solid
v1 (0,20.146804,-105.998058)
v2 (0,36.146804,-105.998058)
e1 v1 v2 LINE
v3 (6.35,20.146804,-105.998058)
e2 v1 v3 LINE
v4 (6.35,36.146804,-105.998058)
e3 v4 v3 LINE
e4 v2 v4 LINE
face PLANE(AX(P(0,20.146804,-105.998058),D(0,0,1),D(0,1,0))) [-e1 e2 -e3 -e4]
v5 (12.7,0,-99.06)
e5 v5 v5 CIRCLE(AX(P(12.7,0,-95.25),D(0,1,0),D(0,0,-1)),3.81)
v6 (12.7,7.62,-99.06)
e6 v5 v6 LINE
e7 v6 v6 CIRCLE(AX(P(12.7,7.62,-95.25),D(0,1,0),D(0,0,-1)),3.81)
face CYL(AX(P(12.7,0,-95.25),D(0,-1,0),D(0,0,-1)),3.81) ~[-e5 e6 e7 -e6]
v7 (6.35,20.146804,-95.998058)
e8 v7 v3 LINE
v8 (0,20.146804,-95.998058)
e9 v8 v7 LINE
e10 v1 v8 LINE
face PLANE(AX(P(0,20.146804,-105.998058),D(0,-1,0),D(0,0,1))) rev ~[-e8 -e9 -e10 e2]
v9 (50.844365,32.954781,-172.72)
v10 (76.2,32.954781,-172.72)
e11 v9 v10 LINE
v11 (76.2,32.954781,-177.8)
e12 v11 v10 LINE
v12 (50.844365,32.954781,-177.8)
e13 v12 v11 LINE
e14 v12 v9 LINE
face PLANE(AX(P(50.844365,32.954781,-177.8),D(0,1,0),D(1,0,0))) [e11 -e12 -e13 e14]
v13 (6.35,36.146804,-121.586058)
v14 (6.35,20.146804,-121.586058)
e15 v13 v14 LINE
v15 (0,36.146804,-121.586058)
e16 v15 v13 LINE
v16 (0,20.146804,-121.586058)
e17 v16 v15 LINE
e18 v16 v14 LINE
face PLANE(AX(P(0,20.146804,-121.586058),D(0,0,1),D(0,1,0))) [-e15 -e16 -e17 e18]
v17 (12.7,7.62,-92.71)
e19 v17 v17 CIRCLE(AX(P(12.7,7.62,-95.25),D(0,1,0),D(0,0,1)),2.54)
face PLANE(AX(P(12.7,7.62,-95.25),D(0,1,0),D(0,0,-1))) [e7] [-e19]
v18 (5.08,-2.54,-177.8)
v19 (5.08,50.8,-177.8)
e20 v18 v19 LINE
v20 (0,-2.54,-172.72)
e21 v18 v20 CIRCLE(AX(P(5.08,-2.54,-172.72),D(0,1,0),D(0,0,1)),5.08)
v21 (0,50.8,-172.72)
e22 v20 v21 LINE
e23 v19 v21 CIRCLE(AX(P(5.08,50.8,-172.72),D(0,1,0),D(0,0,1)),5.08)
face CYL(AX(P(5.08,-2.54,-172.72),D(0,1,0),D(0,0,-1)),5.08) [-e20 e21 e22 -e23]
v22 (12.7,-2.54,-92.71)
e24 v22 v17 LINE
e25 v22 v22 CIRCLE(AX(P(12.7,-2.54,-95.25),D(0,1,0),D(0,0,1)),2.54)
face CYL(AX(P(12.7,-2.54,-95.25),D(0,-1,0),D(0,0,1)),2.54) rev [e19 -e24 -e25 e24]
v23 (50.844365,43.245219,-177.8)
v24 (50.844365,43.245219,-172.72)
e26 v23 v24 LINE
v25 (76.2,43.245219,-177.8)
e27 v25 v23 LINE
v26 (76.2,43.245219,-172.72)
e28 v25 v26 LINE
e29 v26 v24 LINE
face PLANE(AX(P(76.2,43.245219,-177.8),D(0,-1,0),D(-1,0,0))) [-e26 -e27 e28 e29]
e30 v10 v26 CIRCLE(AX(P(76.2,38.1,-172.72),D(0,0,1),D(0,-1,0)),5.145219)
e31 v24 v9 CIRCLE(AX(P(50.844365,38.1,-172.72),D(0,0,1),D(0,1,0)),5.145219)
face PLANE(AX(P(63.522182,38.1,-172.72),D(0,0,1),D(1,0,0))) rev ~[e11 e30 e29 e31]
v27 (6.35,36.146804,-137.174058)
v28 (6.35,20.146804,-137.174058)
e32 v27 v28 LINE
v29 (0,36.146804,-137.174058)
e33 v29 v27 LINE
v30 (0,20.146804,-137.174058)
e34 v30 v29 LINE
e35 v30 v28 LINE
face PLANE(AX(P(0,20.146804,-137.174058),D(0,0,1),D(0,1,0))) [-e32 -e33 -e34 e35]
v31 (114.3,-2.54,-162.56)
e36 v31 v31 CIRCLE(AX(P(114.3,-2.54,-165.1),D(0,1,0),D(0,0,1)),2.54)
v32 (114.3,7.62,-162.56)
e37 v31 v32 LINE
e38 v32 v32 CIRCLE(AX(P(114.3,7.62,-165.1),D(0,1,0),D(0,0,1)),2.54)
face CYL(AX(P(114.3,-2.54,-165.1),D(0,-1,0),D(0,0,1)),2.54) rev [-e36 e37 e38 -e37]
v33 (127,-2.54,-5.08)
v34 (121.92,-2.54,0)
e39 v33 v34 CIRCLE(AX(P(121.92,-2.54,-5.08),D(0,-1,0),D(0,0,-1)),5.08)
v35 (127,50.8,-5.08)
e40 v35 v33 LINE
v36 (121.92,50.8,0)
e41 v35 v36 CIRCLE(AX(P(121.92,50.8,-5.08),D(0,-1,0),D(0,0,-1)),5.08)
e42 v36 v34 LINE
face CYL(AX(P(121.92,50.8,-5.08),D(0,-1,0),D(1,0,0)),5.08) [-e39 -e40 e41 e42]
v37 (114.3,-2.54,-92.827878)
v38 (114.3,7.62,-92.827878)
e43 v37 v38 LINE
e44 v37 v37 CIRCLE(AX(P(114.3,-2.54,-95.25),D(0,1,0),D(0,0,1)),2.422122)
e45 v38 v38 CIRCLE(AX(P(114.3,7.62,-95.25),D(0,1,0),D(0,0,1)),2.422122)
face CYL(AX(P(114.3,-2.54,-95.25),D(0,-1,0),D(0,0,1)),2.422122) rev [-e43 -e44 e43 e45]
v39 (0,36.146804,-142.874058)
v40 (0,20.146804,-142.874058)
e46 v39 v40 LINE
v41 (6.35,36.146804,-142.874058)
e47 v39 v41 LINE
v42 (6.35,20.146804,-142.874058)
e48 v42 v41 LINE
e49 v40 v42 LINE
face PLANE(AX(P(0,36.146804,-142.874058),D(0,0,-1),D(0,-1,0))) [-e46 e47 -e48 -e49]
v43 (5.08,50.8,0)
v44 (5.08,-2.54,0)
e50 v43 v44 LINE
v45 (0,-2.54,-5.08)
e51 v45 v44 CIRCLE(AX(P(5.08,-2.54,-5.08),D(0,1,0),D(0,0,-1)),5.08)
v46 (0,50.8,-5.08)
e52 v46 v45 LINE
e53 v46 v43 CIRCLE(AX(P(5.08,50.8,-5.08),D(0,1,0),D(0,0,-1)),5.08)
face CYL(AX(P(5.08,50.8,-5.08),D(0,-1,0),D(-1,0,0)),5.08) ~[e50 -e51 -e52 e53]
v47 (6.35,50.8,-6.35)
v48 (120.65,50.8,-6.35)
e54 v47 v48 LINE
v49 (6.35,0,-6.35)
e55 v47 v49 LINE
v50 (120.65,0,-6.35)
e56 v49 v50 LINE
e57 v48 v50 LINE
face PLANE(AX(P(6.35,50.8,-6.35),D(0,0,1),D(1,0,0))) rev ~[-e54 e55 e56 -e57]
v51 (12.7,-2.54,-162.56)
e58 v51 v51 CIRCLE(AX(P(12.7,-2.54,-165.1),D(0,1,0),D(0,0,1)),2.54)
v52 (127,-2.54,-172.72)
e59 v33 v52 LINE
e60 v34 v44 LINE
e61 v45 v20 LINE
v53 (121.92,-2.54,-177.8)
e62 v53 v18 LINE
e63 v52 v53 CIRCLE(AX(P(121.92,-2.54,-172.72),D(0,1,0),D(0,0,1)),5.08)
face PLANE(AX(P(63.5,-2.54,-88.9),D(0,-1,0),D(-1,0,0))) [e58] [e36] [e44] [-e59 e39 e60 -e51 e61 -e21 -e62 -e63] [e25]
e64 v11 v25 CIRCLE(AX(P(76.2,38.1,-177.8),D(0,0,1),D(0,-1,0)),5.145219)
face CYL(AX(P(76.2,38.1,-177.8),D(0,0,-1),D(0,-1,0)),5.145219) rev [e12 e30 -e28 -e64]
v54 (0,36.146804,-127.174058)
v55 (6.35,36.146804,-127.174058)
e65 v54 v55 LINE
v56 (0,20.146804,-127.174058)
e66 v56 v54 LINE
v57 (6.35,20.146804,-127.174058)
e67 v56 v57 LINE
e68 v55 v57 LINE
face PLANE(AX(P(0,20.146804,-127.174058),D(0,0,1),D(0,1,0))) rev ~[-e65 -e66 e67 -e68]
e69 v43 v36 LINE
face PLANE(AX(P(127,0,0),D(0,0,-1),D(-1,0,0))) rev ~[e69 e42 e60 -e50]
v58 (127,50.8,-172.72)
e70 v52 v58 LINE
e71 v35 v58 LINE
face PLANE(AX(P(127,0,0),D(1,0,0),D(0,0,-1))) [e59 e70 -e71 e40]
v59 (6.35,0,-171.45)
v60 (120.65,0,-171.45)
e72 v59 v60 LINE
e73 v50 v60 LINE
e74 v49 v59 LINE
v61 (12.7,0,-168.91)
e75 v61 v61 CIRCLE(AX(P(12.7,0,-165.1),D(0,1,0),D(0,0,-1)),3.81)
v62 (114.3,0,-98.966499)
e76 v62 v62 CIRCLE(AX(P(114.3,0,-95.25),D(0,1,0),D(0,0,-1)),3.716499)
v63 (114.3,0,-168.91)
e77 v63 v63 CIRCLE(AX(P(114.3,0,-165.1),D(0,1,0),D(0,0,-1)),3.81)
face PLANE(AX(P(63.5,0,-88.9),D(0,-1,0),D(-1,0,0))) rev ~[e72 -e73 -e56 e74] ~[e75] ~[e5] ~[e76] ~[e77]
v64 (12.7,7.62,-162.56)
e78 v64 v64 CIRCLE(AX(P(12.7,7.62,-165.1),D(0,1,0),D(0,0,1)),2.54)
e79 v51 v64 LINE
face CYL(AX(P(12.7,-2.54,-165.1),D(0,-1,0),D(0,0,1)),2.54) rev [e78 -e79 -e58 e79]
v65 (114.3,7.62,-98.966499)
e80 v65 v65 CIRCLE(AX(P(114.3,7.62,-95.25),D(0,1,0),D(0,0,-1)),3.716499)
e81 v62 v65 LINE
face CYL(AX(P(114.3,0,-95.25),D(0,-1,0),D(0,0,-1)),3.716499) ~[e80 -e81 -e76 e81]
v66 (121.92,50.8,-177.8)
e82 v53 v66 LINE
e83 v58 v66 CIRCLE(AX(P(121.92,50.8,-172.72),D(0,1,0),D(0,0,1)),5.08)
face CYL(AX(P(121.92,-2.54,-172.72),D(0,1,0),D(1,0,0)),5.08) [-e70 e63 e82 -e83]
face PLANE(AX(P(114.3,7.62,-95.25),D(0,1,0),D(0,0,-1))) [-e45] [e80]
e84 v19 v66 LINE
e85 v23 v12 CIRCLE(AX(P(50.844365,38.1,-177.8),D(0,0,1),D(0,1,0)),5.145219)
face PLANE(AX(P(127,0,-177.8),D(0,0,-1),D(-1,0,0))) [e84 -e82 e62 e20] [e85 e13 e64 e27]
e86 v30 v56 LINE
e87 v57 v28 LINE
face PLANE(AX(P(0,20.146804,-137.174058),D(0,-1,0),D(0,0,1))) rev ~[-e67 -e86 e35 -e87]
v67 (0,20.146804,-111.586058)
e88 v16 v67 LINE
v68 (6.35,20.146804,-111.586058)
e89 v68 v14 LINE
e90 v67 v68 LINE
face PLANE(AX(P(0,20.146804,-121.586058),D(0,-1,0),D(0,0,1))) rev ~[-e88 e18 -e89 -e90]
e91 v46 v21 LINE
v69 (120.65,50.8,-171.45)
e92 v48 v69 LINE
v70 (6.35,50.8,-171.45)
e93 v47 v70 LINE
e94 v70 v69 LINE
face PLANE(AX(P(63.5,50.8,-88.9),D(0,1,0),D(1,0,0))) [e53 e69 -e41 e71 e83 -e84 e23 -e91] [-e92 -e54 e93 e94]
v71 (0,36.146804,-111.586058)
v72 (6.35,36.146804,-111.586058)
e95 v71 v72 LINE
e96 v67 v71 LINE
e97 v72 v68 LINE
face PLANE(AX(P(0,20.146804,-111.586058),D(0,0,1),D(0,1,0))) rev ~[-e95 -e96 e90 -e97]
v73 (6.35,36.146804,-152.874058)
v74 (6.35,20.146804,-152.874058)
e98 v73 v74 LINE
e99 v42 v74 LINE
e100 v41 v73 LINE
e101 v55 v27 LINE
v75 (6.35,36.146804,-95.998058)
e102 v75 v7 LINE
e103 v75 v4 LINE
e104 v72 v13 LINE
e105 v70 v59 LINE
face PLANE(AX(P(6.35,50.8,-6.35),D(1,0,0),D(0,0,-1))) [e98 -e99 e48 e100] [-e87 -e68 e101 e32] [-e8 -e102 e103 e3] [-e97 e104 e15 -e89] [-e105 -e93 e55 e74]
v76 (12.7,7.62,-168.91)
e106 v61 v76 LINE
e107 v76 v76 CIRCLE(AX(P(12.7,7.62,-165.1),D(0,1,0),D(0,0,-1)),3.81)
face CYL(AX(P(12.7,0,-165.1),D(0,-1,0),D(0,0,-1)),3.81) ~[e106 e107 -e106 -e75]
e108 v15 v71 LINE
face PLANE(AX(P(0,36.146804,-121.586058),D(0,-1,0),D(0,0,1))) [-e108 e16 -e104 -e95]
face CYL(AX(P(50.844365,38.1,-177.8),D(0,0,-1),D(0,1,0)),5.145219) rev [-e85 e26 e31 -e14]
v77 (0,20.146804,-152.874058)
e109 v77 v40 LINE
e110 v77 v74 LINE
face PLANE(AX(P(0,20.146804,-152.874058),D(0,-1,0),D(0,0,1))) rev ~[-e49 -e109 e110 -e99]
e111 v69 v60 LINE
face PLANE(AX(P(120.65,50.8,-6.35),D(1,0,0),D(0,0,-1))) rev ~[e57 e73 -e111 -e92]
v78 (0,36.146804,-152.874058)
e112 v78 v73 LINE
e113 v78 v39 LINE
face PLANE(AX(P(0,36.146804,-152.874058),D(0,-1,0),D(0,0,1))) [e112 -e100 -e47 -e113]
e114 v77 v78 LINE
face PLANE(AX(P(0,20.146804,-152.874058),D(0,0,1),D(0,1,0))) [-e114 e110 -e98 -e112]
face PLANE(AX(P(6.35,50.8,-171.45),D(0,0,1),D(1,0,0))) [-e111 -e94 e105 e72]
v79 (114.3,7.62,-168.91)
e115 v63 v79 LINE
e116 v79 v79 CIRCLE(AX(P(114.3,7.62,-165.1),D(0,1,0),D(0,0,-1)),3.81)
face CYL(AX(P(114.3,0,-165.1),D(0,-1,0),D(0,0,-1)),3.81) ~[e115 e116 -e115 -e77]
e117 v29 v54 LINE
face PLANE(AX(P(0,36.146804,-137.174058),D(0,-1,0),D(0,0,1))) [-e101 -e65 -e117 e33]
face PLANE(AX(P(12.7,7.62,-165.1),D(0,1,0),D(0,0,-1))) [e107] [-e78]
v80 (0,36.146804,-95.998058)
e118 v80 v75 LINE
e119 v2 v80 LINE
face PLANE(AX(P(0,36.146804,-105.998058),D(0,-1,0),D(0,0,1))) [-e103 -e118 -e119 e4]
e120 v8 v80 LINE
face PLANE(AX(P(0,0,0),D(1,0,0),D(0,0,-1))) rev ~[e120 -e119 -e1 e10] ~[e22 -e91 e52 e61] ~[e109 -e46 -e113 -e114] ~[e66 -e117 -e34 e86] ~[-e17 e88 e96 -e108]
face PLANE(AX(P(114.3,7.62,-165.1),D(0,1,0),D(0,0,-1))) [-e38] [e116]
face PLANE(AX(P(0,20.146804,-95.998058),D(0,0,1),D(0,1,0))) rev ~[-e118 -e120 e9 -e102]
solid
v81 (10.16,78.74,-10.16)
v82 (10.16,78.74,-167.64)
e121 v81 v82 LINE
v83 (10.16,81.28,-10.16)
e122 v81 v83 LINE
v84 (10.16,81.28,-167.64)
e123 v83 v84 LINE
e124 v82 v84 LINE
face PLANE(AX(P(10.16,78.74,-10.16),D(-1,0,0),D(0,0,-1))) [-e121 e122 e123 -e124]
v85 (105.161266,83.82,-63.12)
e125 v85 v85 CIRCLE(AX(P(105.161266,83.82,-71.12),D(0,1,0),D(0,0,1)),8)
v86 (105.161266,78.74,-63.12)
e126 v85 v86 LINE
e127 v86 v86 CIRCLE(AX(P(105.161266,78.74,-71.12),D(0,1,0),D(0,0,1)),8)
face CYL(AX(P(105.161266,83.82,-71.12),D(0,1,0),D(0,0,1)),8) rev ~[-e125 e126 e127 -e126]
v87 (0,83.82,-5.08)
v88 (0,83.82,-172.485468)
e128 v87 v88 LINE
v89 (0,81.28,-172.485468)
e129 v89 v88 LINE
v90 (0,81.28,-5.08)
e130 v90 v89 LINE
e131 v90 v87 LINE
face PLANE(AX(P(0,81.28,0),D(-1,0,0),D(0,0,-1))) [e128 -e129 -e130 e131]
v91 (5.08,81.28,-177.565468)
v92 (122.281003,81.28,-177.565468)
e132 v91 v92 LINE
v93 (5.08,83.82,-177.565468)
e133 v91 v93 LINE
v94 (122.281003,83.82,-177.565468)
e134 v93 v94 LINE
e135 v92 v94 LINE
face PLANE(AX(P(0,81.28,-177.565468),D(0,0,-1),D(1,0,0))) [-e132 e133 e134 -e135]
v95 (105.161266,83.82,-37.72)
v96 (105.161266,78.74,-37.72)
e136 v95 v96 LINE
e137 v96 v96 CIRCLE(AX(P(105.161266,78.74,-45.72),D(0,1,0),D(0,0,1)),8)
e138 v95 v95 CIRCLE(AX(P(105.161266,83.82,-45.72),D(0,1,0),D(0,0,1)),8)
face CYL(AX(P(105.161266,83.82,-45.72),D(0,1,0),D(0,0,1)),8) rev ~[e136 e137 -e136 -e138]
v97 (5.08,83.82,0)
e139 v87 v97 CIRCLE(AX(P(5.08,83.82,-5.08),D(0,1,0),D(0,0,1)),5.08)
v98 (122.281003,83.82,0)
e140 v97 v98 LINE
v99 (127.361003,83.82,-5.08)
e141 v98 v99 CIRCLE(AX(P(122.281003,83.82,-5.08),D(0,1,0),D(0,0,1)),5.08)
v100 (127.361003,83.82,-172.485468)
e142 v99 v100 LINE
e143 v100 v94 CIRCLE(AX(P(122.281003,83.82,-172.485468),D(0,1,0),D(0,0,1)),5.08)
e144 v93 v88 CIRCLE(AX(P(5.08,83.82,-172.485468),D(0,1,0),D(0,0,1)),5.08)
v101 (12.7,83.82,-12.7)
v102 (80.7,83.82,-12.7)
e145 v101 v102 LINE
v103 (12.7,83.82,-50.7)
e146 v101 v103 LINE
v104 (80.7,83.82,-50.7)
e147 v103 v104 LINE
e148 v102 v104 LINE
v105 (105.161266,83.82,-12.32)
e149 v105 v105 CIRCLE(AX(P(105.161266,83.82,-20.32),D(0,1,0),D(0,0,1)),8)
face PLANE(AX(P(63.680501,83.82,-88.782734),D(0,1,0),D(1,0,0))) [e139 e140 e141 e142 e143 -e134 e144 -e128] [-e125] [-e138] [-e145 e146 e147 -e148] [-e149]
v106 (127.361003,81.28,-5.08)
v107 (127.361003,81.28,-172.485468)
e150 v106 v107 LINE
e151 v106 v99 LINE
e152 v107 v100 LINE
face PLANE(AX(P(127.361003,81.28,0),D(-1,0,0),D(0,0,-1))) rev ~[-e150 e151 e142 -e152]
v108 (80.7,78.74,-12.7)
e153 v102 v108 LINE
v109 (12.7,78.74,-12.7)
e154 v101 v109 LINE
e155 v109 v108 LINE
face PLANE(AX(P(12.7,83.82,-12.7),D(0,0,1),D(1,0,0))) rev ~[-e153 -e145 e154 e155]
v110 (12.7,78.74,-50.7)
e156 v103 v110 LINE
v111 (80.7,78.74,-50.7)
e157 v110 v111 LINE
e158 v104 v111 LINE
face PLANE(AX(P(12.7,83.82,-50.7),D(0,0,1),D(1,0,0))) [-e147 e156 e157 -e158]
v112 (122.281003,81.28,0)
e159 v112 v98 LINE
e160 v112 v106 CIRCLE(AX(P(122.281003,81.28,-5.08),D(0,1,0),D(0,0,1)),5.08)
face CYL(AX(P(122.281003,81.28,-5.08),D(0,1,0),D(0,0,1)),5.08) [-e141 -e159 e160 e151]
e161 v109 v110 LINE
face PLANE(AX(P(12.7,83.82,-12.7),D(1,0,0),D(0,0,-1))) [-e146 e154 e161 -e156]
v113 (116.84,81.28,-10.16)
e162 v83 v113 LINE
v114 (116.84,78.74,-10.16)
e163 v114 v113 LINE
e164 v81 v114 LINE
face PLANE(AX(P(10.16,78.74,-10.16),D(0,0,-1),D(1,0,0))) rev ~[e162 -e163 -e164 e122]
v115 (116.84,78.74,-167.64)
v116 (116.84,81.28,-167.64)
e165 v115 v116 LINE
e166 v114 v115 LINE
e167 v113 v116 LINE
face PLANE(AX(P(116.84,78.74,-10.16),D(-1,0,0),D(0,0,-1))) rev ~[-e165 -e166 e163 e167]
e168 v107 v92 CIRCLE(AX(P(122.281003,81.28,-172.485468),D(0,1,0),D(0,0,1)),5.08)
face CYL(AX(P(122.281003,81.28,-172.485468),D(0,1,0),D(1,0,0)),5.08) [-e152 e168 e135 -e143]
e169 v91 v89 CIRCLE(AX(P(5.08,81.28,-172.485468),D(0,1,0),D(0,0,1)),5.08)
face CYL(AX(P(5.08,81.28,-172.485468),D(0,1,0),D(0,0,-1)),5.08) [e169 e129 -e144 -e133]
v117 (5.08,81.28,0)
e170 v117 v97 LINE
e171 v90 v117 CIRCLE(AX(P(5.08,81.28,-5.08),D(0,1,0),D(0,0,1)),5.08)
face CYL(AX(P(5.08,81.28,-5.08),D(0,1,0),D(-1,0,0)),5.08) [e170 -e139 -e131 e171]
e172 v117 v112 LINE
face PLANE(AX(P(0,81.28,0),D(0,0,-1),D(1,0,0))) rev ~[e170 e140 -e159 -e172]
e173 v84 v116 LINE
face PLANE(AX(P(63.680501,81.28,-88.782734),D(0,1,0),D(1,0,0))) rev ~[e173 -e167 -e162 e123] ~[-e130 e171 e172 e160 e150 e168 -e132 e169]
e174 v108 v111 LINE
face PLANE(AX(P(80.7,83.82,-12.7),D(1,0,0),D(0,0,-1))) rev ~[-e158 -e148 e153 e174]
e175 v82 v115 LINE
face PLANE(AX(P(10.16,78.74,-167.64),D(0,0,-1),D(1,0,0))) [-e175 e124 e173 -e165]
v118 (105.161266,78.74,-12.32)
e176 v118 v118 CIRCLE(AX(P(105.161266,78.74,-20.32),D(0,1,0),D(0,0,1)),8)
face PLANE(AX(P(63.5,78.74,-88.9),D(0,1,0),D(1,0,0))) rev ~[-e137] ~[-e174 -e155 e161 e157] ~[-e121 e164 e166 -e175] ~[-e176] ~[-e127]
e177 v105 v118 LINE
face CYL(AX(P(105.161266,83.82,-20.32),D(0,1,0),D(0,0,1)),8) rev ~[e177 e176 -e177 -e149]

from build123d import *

# Parameters (mm, degrees)
SKETCH1_W           = 127
SKETCH1_H           = 177.8
BOSS_EXTRUDE1_DEPTH = 50.8
SKETCH2_W           = 114.3
SKETCH2_H           = 165.1
CUT_EXTRUDE1_DEPTH  = 50.8
SKETCH4_W           = 127
SKETCH4_H           = 177.8
BOSS_EXTRUDE2_DEPTH = 2.54
SKETCH5_W           = 106.68
SKETCH5_H           = 157.48
BOSS_EXTRUDE3_DEPTH = 2.54
SKETCH6_W           = 127.36100261
SKETCH6_H           = 177.565468033
BOSS_EXTRUDE4_DEPTH = 2.54
SKETCH7_R           = 8
SKETCH7_W           = 68
SKETCH7_H           = 38
CUT_EXTRUDE2_DEPTH  = 7.62
FILLET1_R           = 5.08
FILLET2_R           = 5.08
FILLET3_R           = 5.08
FILLET4_R           = 5.08
FILLET5_R           = 5.08
FILLET6_R           = 5.08
FILLET7_R           = 5.08
FILLET8_R           = 5.08
CUT_EXTRUDE3_DEPTH  = 5.08
CUT_EXTRUDE5_DEPTH  = 10.16
SKETCH10_3_W        = 10
SKETCH10_3_H        = 16
CUT_EXTRUDE6_DEPTH  = 10.16
SKETCH12_R          = 3.716498952
SKETCH12_R_2        = 2.42212238
SKETCH12_R_3        = 3.81
SKETCH12_R_4        = 2.54
BOSS_EXTRUDE5_DEPTH = 7.62
CUT_EXTRUDE7_START  = -2.54
SKETCH14_R          = 2.42212238
CUT_EXTRUDE7_DEPTH  = 2.54
CUT_EXTRUDE8_START  = -2.54
SKETCH15_R          = 2.54
CUT_EXTRUDE8_DEPTH  = 2.54
CUT_EXTRUDE9_START  = -2.54
SKETCH16_R          = 2.54
CUT_EXTRUDE9_DEPTH  = 2.54
CUT_EXTRUDE10_START = -2.54
SKETCH17_R          = 2.54
CUT_EXTRUDE10_DEPTH = 2.54


with BuildPart() as part:
    # Sketch1 → Boss-Extrude1 (new body)
    with BuildSketch(Plane(origin=(0, 0, 0), x_dir=(1, 0, 0), z_dir=(0, 1, 0))):
        with Locations((63.5, 88.9)):
            Rectangle(SKETCH1_W, SKETCH1_H)
    extrude(amount=BOSS_EXTRUDE1_DEPTH)

    # Sketch2 → Cut-Extrude1 (cut)
    with BuildSketch(Plane(origin=(0, 50.8, 0), x_dir=(1, 0, 0), z_dir=(0, 1, 0))):
        with Locations((63.5, 88.9)):
            Rectangle(SKETCH2_W, SKETCH2_H)
    extrude(amount=-CUT_EXTRUDE1_DEPTH, mode=Mode.SUBTRACT)

    # Sketch4 → Boss-Extrude2 (add)
    with BuildSketch(Plane(origin=(0, 0, 0), x_dir=(-1, 0, 0), z_dir=(0, -1, 0))):
        with Locations((-63.5, 88.9)):
            Rectangle(SKETCH4_W, SKETCH4_H)
    extrude(amount=BOSS_EXTRUDE2_DEPTH)

    # Fillet1
    fillet1_edges = [part.edges().sort_by_distance(p)[0] for p in [
        (127, 24.13, 0),
    ]]
    fillet(fillet1_edges, radius=FILLET1_R)

    # Fillet3
    fillet3_edges = [part.edges().sort_by_distance(p)[0] for p in [
        (127, 24.13, -177.8),
    ]]
    fillet(fillet3_edges, radius=FILLET3_R)

    # Fillet4
    fillet4_edges = [part.edges().sort_by_distance(p)[0] for p in [
        (0, 24.13, -177.8),
    ]]
    fillet(fillet4_edges, radius=FILLET4_R)

    # Fillet5
    fillet5_edges = [part.edges().sort_by_distance(p)[0] for p in [
        (0, 24.13, 0),
    ]]
    fillet(fillet5_edges, radius=FILLET5_R)

    # Sketch9 → Cut-Extrude3 (cut)
    with BuildSketch(Plane(origin=(0, 0, -177.8), x_dir=(-1, 0, 0), z_dir=(0, 0, -1))):
        with BuildLine():
            Line((-50.844364587, 32.954781393), (-76.2, 32.954781393))
            ThreePointArc((-76.2, 32.954781393), (-81.345218607, 38.1), (-76.2, 43.245218607))
            Line((-76.2, 43.245218607), (-50.844364587, 43.245218607))
            ThreePointArc((-50.844364587, 43.245218607), (-45.69914598, 38.1), (-50.844364587, 32.954781393))
        make_face()
    extrude(amount=-CUT_EXTRUDE3_DEPTH, mode=Mode.SUBTRACT)

    # Sketch10 → Cut-Extrude5 (cut)
    with BuildSketch(Plane.ZY):
        Polygon((-144.874057785, 20.146804291), (-152.874057785, 20.146804291), (-152.874057785, 36.146804291), (-142.874057785, 36.146804291), (-142.874057785, 20.146804291), align=None)
    extrude(amount=-CUT_EXTRUDE5_DEPTH, mode=Mode.SUBTRACT)

    # Sketch10<3> → Cut-Extrude6 (cut)
    with BuildSketch(Plane.ZY):
        with Locations((-132.174057785, 28.146804291)):
            Rectangle(SKETCH10_3_W, SKETCH10_3_H)
        with Locations((-116.586057785, 28.146804291)):
            Rectangle(SKETCH10_3_W, SKETCH10_3_H)
        with Locations((-100.998057785, 28.146804291)):
            Rectangle(SKETCH10_3_W, SKETCH10_3_H)
    extrude(amount=-CUT_EXTRUDE6_DEPTH, mode=Mode.SUBTRACT)

    # Sketch12 → Boss-Extrude5 (add)
    # profile 1 of 4: a face of its own
    with BuildSketch(Plane(origin=(0, 0, 0), x_dir=(1, 0, 0), z_dir=(0, 1, 0))):
        with Locations((114.3, 95.25)):
            Circle(SKETCH12_R)
        with Locations((114.3, 95.25)):
            Circle(SKETCH12_R_2, mode=Mode.SUBTRACT)
    # profile 2 of 4: a face of its own
    with BuildSketch(Plane(origin=(0, 0, 0), x_dir=(1, 0, 0), z_dir=(0, 1, 0))):
        with Locations((12.7, 95.25)):
            Circle(SKETCH12_R_3)
        with Locations((12.7, 95.25)):
            Circle(SKETCH12_R_4, mode=Mode.SUBTRACT)
    # profile 3 of 4: a face of its own
    with BuildSketch(Plane(origin=(0, 0, 0), x_dir=(1, 0, 0), z_dir=(0, 1, 0))):
        with Locations((12.7, 165.1)):
            Circle(SKETCH12_R_3)
        with Locations((12.7, 165.1)):
            Circle(SKETCH12_R_4, mode=Mode.SUBTRACT)
    # profile 4 of 4: a face of its own
    with BuildSketch(Plane(origin=(0, 0, 0), x_dir=(1, 0, 0), z_dir=(0, 1, 0))):
        with Locations((114.3, 165.1)):
            Circle(SKETCH12_R_3)
        with Locations((114.3, 165.1)):
            Circle(SKETCH12_R_4, mode=Mode.SUBTRACT)
    extrude(amount=BOSS_EXTRUDE5_DEPTH)

    # Sketch14 → Cut-Extrude7 (cut)
    with BuildSketch(Plane(origin=(0, 0, 0), x_dir=(1, 0, 0), z_dir=(0, 1, 0)).offset(CUT_EXTRUDE7_START)):
        with Locations((114.3, 95.25)):
            Circle(SKETCH14_R)
    extrude(amount=CUT_EXTRUDE7_DEPTH, mode=Mode.SUBTRACT)

    # Sketch15 → Cut-Extrude8 (cut)
    with BuildSketch(Plane(origin=(0, 0, 0), x_dir=(1, 0, 0), z_dir=(0, 1, 0)).offset(CUT_EXTRUDE8_START)):
        with Locations((114.3, 165.1)):
            Circle(SKETCH15_R)
    extrude(amount=CUT_EXTRUDE8_DEPTH, mode=Mode.SUBTRACT)

    # Sketch16 → Cut-Extrude9 (cut)
    with BuildSketch(Plane(origin=(0, 0, 0), x_dir=(1, 0, 0), z_dir=(0, 1, 0)).offset(CUT_EXTRUDE9_START)):
        with Locations((12.7, 165.1)):
            Circle(SKETCH16_R)
    extrude(amount=CUT_EXTRUDE9_DEPTH, mode=Mode.SUBTRACT)

    # Sketch17 → Cut-Extrude10 (cut)
    with BuildSketch(Plane(origin=(0, 0, 0), x_dir=(1, 0, 0), z_dir=(0, 1, 0)).offset(CUT_EXTRUDE10_START)):
        with Locations((12.7, 95.25)):
            Circle(SKETCH17_R)
    extrude(amount=CUT_EXTRUDE10_DEPTH, mode=Mode.SUBTRACT)


with BuildPart() as body_2:
    # Sketch5 → Boss-Extrude3 (new body)
    with BuildSketch(Plane(origin=(0, 78.74, 0), x_dir=(1, 0, 0), z_dir=(0, 1, 0))):
        with Locations((63.5, 88.9)):
            Rectangle(SKETCH5_W, SKETCH5_H)
    extrude(amount=BOSS_EXTRUDE3_DEPTH)

    # Sketch6 → Boss-Extrude4 (add)
    with BuildSketch(Plane(origin=(0, 81.28, 0), x_dir=(1, 0, 0), z_dir=(0, 1, 0))):
        with Locations((63.680501305, 88.782734017)):
            Rectangle(SKETCH6_W, SKETCH6_H)
    extrude(amount=BOSS_EXTRUDE4_DEPTH)

    # Sketch7 → Cut-Extrude2 (cut)
    with BuildSketch(Plane(origin=(0, 83.82, 0), x_dir=(1, 0, 0), z_dir=(0, 1, 0))):
        with Locations((105.161265821, 20.32)):
            Circle(SKETCH7_R)
        with Locations((105.161265821, 45.72)):
            Circle(SKETCH7_R)
        with Locations((105.161265821, 71.12)):
            Circle(SKETCH7_R)
        with Locations((46.7, 31.7)):
            Rectangle(SKETCH7_W, SKETCH7_H)
    extrude(amount=-CUT_EXTRUDE2_DEPTH, mode=Mode.SUBTRACT)

    # Fillet2
    fillet2_edges = [body_2.edges().sort_by_distance(p)[0] for p in [
        (127.36100261, 82.55, 0),
    ]]
    fillet(fillet2_edges, radius=FILLET2_R)

    # Fillet6
    fillet6_edges = [body_2.edges().sort_by_distance(p)[0] for p in [
        (127.36100261, 82.55, -177.565468033),
    ]]
    fillet(fillet6_edges, radius=FILLET6_R)

    # Fillet7
    fillet7_edges = [body_2.edges().sort_by_distance(p)[0] for p in [
        (0, 82.55, -177.565468033),
    ]]
    fillet(fillet7_edges, radius=FILLET7_R)

    # Fillet8
    fillet8_edges = [body_2.edges().sort_by_distance(p)[0] for p in [
        (0, 82.55, 0),
    ]]
    fillet(fillet8_edges, radius=FILLET8_R)


solid = Compound([part.part, body_2.part])
